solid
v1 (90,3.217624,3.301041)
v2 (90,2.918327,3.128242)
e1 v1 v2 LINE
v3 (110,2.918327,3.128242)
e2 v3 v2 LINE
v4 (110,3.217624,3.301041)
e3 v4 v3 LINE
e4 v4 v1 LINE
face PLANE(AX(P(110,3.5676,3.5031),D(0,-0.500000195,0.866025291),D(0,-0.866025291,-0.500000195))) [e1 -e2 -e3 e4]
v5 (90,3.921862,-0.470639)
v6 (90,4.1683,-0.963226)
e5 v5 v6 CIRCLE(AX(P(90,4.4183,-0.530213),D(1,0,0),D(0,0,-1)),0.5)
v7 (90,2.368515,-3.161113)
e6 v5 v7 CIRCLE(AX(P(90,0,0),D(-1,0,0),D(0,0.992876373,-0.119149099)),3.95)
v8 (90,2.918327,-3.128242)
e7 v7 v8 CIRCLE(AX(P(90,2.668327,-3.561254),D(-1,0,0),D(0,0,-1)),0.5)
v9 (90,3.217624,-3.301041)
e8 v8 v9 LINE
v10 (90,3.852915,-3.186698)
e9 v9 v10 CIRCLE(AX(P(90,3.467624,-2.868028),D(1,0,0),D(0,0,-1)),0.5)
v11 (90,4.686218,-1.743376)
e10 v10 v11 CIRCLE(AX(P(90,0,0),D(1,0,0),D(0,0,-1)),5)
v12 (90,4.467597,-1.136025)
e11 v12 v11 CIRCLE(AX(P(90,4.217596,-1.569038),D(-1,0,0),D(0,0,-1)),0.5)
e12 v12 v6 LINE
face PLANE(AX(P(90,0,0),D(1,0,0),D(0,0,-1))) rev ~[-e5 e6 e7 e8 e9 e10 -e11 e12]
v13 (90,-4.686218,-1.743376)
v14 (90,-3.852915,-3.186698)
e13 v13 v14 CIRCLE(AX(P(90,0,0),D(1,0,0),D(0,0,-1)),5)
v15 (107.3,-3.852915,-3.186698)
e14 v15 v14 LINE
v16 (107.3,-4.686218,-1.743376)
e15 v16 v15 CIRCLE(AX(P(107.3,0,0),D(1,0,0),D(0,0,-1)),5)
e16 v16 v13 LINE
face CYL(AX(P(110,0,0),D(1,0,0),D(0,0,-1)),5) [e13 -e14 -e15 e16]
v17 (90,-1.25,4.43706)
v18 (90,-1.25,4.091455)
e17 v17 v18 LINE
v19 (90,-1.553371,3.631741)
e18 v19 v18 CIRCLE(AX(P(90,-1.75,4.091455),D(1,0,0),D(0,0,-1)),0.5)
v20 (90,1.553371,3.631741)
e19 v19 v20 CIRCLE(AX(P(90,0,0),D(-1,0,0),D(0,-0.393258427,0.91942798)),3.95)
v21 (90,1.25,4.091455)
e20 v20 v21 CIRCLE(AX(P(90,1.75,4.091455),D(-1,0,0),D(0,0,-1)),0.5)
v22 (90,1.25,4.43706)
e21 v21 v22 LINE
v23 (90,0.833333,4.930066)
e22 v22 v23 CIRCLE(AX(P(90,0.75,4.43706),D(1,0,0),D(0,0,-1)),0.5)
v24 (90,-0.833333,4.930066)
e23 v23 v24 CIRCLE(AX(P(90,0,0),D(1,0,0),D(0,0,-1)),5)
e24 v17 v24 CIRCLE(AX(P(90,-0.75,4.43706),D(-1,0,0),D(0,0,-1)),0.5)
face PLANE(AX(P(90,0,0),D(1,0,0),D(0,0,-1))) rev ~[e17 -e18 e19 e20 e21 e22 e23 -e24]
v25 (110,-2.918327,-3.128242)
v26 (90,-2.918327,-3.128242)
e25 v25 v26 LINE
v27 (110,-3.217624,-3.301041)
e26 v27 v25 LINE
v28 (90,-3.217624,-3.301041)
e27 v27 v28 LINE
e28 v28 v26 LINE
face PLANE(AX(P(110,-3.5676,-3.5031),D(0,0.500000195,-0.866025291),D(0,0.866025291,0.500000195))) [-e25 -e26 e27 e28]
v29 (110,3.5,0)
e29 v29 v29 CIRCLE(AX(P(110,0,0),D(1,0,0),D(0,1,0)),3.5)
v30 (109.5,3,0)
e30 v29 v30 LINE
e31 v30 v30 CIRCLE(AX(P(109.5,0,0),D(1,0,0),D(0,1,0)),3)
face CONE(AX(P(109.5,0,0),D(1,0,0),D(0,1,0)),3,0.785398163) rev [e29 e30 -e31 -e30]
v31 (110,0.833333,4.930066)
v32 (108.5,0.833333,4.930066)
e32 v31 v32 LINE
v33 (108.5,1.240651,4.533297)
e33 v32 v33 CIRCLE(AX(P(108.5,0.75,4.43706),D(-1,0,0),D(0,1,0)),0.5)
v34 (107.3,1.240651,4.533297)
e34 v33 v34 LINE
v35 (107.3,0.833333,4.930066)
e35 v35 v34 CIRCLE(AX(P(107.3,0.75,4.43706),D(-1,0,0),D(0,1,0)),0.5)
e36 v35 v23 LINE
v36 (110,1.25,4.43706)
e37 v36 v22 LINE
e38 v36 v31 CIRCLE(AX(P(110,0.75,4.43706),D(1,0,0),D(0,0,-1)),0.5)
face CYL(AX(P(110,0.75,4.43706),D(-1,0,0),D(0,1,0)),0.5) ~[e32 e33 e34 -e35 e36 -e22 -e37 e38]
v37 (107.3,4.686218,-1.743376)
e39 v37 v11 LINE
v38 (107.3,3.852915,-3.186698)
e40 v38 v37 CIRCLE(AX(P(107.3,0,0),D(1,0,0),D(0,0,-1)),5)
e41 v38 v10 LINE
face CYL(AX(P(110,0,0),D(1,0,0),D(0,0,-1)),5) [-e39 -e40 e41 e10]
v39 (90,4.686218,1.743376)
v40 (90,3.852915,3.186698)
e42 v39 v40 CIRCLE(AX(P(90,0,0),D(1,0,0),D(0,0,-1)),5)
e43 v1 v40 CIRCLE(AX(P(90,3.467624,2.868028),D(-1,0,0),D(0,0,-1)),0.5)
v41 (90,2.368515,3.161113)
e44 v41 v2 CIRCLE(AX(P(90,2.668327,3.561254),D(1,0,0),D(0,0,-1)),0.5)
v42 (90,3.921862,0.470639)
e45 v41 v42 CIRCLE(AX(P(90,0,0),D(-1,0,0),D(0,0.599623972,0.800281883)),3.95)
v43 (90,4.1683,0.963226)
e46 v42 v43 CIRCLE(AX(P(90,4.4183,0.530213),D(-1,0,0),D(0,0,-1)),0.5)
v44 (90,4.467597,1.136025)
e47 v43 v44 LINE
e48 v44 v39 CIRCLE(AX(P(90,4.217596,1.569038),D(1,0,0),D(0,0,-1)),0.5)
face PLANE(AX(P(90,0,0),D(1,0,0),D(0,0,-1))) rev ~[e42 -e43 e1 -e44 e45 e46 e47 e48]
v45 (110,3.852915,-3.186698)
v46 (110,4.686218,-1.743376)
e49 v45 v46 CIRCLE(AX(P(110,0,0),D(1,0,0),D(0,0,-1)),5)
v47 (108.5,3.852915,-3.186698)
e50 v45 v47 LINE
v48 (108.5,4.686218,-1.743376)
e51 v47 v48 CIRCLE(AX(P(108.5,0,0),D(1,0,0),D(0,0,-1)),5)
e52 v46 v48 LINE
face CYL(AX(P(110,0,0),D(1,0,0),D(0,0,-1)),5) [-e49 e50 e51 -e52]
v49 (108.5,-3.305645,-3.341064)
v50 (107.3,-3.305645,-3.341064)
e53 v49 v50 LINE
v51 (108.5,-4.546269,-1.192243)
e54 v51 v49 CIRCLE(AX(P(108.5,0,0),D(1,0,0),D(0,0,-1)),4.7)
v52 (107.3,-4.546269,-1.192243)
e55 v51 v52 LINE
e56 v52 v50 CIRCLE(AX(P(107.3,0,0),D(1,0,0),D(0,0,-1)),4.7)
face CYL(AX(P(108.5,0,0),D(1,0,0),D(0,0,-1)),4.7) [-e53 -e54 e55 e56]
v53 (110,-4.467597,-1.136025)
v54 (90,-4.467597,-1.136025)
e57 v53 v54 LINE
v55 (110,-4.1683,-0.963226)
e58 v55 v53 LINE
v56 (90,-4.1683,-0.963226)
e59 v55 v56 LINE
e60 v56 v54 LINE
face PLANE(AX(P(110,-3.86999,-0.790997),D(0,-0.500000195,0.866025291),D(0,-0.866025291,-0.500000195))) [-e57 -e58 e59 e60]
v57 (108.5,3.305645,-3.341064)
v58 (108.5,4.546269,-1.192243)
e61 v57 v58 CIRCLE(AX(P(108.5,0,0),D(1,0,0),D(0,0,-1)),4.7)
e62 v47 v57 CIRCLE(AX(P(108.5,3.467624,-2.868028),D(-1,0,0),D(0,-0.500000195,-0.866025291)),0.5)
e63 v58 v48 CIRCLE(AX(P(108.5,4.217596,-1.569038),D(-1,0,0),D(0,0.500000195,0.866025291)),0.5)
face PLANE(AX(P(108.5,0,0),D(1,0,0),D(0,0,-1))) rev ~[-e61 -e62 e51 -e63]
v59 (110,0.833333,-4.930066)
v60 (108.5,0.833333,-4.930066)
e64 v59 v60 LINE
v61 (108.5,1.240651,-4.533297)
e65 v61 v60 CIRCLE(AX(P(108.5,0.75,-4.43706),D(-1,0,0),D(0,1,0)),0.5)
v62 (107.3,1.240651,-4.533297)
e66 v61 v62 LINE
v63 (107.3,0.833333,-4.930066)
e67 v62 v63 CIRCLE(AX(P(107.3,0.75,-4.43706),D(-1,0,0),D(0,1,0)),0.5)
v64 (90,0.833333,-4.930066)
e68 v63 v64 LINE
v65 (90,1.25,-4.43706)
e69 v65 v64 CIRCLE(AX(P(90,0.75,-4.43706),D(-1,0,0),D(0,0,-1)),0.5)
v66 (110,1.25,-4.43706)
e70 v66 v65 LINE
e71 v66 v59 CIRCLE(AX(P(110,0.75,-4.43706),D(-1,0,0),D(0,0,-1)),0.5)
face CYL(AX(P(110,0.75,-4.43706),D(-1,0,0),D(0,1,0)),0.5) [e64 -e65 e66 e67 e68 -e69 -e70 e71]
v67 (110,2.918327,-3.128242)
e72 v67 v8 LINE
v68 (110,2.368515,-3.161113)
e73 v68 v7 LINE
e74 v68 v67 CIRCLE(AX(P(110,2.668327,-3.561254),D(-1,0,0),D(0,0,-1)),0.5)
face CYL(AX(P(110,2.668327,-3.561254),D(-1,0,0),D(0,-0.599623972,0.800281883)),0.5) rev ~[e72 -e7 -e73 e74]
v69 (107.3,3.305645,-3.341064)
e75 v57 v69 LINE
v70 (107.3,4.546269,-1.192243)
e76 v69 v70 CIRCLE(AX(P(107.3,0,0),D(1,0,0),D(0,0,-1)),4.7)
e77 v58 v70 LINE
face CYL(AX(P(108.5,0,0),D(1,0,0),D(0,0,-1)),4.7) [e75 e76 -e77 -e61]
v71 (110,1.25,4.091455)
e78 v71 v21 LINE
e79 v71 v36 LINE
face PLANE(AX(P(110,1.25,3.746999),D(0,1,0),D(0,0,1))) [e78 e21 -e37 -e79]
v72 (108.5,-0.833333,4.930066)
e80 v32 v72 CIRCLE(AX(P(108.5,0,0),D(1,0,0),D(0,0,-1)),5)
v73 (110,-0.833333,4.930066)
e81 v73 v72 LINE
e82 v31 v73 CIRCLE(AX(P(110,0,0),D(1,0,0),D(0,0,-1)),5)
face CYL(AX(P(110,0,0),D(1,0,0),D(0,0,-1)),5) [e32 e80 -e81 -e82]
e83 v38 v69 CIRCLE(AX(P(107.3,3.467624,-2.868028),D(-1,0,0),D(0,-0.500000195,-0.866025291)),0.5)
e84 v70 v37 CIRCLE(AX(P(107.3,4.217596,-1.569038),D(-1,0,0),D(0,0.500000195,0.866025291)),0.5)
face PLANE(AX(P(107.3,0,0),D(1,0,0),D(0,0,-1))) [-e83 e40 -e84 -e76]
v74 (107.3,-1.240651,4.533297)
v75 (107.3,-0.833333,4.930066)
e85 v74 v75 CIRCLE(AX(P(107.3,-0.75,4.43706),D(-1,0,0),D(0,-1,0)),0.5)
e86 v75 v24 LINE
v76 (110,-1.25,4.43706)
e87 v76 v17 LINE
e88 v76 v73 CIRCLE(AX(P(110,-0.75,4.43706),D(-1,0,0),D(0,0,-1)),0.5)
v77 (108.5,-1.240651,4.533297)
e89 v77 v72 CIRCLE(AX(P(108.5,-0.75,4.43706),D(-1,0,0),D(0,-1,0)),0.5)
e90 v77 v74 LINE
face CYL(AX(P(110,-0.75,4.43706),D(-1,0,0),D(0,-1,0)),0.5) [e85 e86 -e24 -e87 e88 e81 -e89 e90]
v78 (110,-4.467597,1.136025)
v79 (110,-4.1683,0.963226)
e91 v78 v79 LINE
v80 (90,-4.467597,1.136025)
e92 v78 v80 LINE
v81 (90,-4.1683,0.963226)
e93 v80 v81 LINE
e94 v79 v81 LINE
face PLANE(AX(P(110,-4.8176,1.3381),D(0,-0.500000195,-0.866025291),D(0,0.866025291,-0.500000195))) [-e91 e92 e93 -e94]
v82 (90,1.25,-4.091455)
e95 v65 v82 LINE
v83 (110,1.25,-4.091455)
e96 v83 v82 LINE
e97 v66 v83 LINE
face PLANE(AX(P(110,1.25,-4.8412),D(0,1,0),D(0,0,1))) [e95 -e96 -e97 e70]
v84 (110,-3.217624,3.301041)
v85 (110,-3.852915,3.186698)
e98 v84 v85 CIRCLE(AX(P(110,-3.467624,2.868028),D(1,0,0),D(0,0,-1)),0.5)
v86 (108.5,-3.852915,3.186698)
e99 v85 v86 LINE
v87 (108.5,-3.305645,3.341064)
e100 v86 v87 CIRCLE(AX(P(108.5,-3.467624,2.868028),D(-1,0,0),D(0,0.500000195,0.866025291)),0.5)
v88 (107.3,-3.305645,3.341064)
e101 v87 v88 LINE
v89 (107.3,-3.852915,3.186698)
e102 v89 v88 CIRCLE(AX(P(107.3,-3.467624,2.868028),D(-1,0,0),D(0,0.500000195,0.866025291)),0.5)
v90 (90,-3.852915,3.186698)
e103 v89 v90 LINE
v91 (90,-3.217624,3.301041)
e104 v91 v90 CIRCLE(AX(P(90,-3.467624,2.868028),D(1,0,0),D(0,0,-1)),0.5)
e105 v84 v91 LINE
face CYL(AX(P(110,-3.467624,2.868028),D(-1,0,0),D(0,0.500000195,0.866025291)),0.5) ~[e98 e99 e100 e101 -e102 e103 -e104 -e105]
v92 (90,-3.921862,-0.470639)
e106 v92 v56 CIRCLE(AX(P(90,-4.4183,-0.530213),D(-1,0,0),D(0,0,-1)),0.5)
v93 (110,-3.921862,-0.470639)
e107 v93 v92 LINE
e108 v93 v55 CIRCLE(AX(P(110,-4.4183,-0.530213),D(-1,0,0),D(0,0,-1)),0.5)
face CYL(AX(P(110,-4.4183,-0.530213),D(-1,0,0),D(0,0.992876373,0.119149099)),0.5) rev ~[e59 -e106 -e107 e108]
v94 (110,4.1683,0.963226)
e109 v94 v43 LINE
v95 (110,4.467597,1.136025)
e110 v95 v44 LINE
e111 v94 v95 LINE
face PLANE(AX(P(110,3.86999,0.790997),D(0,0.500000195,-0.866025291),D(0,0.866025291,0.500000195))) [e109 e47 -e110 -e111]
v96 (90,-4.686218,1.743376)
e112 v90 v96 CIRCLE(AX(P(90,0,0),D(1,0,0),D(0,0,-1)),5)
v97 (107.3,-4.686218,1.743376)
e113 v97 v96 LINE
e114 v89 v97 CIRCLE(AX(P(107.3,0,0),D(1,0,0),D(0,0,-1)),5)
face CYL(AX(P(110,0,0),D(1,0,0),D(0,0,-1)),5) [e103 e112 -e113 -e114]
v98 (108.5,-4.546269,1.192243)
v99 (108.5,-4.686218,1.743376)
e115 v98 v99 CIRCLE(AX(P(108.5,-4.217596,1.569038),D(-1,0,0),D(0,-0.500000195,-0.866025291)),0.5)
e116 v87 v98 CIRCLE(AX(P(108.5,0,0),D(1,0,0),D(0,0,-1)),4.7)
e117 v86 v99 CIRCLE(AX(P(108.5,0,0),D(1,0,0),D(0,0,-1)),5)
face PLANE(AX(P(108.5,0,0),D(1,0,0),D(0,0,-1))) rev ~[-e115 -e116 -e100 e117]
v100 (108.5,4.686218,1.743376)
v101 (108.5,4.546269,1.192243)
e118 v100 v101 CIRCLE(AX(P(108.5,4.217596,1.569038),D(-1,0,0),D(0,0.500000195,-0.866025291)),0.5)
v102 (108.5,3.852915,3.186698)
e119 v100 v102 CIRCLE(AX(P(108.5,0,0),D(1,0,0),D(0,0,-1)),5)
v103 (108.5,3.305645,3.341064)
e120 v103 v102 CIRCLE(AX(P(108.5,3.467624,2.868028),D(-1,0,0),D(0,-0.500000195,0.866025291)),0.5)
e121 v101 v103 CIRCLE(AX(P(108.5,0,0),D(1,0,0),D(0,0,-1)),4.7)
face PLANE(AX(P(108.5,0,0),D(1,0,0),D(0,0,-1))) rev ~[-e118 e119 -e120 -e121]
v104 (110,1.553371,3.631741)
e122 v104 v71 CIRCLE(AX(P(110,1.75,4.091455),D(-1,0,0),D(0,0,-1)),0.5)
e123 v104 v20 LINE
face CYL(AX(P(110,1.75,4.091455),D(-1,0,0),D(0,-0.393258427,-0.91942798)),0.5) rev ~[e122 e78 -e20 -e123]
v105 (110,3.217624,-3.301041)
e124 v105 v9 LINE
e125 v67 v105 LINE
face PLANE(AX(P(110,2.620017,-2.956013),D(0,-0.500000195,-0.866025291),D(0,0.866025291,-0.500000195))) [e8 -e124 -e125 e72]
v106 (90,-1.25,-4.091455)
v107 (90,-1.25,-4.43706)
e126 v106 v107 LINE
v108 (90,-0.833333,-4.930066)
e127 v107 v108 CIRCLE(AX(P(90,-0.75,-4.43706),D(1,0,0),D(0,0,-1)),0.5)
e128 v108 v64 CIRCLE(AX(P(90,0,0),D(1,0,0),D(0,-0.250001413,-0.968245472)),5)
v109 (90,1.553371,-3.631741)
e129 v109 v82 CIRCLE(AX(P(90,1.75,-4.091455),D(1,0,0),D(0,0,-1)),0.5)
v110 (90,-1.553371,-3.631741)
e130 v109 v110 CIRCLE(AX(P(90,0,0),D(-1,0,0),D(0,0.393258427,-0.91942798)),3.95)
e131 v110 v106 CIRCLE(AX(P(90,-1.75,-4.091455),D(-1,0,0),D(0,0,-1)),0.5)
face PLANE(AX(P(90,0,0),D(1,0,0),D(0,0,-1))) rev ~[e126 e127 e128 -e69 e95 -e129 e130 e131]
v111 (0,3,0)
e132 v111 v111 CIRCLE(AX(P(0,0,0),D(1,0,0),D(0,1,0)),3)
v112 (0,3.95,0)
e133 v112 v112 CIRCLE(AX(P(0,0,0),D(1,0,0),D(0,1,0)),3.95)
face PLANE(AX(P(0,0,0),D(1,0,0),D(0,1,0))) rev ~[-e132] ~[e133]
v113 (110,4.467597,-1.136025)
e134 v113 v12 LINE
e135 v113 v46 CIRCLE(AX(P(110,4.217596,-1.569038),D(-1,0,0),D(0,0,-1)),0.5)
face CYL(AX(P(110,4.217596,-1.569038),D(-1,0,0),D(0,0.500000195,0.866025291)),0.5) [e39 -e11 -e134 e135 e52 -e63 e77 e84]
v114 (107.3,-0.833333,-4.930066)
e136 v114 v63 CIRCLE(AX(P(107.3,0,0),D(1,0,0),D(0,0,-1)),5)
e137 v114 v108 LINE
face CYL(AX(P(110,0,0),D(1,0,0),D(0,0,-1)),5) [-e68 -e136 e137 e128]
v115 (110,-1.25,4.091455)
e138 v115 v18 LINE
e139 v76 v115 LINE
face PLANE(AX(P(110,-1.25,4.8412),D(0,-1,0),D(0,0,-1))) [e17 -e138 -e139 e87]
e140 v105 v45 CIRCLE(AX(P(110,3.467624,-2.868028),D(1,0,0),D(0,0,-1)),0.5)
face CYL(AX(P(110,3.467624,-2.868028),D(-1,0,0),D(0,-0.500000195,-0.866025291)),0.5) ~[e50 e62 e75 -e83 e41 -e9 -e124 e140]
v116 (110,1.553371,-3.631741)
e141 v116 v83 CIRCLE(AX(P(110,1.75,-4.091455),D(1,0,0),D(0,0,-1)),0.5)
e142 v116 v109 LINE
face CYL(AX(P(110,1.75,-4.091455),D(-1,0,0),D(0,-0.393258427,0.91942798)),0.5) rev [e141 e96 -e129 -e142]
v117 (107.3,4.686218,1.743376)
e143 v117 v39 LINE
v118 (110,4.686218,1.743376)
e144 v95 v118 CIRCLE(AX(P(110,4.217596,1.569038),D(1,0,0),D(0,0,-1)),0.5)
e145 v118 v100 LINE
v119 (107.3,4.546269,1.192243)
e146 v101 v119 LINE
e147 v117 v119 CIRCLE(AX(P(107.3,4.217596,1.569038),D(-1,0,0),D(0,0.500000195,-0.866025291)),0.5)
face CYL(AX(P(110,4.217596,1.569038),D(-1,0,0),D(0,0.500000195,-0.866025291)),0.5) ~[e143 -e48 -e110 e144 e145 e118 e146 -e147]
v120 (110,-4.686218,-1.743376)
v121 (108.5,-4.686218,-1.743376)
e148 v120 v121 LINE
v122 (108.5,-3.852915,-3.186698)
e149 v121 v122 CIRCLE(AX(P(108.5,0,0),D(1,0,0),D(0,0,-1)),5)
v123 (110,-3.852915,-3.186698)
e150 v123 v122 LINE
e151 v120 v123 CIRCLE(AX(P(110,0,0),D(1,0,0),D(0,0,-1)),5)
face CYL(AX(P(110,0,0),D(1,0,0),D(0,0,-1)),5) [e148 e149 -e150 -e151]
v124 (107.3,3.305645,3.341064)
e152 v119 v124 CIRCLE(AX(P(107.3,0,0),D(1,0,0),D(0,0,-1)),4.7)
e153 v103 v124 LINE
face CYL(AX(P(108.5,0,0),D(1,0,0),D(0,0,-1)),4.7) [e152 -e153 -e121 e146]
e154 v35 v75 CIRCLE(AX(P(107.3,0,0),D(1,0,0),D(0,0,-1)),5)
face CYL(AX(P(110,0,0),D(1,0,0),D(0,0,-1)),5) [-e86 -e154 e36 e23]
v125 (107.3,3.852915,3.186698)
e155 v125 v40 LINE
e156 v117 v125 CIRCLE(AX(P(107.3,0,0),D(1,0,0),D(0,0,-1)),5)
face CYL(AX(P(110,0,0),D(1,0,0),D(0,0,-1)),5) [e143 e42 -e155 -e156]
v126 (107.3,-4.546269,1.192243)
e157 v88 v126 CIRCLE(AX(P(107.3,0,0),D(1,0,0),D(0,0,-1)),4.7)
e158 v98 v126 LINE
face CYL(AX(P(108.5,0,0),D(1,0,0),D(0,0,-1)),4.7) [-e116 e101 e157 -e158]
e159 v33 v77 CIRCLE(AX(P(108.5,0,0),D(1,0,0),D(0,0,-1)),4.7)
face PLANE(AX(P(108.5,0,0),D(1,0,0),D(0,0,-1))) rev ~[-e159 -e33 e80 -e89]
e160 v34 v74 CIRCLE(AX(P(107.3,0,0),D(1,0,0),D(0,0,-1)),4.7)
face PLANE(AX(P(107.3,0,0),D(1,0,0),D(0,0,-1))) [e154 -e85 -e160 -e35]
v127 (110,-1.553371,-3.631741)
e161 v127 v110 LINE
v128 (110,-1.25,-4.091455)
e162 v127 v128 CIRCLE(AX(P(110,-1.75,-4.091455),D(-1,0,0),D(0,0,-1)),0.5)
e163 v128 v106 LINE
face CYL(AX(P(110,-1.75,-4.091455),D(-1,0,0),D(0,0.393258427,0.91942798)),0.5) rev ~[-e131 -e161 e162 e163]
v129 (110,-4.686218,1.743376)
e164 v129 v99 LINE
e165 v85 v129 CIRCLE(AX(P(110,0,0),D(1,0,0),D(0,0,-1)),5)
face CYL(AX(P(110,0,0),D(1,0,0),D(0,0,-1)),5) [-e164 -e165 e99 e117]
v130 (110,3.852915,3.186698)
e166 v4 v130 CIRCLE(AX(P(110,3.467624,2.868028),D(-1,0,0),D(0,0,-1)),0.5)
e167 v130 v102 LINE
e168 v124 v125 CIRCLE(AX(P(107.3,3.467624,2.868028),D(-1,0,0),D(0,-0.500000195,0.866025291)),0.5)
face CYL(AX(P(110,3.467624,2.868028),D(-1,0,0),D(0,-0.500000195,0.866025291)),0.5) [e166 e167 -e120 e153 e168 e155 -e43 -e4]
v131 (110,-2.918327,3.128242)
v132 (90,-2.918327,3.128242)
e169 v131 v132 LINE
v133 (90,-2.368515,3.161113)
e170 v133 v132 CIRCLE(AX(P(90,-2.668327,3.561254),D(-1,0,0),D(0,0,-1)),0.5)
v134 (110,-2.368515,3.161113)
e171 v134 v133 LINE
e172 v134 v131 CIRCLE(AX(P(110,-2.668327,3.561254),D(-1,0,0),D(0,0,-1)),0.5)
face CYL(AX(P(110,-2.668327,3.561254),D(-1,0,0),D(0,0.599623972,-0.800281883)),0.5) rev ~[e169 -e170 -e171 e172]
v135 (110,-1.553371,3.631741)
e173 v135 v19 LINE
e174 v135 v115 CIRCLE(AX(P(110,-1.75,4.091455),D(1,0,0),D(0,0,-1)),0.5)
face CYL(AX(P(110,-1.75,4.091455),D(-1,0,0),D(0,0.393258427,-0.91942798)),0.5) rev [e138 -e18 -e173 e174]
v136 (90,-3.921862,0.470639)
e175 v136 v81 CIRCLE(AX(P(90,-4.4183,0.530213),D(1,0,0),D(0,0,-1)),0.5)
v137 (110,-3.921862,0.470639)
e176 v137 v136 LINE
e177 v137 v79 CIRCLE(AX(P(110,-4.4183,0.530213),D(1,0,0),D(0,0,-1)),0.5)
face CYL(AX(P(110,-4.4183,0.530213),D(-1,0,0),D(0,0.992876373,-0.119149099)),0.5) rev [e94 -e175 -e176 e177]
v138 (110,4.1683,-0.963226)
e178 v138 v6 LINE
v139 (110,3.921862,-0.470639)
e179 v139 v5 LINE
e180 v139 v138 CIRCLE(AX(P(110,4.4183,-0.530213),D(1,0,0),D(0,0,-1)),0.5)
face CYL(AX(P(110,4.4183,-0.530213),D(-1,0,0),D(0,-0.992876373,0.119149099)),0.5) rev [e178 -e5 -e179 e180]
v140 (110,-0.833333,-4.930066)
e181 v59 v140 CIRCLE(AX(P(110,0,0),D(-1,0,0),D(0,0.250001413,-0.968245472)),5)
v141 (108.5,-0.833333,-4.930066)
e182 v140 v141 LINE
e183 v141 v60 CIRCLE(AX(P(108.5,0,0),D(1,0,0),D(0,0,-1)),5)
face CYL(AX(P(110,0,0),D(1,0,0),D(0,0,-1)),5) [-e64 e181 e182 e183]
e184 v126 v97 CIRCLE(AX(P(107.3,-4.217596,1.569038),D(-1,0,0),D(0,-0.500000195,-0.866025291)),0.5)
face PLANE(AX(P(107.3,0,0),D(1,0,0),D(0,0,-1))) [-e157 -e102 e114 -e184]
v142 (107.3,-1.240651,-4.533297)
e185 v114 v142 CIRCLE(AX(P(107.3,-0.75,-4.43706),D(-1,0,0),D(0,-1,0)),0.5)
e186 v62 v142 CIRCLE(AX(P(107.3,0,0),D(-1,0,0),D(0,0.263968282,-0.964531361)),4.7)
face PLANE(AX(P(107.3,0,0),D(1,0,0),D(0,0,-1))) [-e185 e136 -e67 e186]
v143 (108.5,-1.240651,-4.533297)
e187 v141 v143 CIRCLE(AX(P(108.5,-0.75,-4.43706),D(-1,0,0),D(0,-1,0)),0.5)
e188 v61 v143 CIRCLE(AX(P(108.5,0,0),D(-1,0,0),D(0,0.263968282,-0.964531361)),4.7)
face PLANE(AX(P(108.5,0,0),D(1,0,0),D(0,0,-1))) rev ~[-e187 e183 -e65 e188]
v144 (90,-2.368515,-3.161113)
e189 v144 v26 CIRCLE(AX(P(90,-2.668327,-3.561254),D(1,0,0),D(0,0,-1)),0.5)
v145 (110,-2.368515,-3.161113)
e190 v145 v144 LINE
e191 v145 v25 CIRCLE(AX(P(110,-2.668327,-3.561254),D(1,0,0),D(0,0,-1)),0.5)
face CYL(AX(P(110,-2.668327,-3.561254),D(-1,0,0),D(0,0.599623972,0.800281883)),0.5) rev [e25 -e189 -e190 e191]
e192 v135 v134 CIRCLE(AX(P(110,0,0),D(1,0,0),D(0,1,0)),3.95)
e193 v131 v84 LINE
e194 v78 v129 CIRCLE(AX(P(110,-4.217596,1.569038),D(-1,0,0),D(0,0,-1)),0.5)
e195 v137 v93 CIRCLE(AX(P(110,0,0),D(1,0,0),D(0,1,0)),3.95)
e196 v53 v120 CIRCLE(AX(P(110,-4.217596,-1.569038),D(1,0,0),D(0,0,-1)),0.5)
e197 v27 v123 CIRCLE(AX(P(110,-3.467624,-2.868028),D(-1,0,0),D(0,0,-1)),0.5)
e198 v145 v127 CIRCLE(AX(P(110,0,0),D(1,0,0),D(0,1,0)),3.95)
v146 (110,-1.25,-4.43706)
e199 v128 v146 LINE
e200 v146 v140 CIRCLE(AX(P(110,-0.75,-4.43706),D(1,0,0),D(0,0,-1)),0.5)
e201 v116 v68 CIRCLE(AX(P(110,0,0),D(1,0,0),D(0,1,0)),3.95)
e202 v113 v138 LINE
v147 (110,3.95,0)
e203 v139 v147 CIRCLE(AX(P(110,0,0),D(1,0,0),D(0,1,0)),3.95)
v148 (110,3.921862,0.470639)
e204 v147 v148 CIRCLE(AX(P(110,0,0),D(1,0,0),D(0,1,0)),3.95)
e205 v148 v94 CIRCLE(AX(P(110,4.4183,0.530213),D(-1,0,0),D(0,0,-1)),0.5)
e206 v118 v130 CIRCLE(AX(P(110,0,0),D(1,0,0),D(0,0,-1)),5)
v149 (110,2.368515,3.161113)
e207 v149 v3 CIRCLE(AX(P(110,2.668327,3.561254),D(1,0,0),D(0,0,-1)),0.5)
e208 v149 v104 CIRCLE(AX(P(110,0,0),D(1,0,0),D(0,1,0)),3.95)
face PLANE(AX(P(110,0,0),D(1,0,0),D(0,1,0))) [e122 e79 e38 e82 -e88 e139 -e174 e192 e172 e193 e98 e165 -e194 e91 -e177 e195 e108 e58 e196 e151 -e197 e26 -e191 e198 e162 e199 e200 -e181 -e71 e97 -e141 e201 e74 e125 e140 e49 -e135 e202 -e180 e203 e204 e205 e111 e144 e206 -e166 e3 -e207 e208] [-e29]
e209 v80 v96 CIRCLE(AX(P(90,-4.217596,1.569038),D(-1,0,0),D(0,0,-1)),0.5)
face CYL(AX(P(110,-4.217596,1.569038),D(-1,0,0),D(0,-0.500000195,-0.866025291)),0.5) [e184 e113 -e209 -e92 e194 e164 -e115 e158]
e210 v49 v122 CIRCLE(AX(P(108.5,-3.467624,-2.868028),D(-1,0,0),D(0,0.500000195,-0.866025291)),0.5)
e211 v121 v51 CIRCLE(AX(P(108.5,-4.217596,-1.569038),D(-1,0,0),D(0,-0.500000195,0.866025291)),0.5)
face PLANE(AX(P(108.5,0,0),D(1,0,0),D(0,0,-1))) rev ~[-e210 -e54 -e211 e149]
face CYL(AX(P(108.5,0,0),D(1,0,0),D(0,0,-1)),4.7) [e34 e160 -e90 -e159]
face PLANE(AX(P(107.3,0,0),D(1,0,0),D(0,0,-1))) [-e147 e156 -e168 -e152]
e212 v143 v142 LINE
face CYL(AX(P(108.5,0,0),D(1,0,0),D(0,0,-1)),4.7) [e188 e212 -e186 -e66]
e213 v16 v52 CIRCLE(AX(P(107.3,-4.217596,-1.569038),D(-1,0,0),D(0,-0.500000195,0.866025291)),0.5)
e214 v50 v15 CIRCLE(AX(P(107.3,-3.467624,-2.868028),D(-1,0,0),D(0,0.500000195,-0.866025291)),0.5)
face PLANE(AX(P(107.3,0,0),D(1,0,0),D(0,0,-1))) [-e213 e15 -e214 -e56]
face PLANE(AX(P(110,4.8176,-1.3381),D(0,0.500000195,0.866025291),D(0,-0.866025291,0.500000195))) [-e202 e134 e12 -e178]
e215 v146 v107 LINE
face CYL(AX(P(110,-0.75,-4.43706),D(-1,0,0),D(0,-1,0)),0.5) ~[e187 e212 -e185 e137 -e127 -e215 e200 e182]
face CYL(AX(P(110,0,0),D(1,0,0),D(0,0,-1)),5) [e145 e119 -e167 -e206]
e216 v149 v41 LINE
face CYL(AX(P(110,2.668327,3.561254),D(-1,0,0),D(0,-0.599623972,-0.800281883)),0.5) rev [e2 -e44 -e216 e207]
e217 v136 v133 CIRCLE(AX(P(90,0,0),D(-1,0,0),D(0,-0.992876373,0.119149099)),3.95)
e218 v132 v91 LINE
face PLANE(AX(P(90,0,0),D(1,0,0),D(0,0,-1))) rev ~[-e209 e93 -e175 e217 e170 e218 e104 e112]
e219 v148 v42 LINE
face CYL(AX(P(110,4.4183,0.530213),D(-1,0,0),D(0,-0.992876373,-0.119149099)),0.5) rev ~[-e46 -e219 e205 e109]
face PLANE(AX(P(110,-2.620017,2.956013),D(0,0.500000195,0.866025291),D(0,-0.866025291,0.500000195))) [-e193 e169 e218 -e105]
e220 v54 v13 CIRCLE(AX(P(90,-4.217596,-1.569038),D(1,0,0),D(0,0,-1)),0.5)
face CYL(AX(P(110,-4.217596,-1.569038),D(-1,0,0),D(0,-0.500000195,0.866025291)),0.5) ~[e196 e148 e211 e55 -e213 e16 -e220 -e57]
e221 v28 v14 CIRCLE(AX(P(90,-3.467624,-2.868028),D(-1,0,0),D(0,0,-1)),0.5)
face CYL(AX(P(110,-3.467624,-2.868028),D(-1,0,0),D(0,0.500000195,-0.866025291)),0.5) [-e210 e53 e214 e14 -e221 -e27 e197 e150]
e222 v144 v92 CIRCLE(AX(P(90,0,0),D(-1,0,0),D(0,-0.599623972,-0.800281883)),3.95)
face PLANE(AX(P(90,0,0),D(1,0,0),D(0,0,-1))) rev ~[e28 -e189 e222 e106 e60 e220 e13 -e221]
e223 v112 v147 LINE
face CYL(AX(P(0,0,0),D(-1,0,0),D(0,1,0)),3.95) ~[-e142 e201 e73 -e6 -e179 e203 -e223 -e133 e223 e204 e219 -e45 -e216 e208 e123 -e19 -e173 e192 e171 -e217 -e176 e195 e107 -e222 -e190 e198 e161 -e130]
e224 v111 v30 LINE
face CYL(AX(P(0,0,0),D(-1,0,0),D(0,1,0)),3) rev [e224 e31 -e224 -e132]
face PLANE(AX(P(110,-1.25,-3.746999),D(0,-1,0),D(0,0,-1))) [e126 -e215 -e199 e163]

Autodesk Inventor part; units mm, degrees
ref_plane "YZ Plane" through (0, 0, 0) normal (1, 0, 0) x (0, 1, 0)
ref_plane "XZ Plane" through (0, 0, 0) normal (0, 1, 0) x (-1, 0, 0)
sketch "Sketch1" plane through (0, 0, 0) normal (1, 0, 0) x (0, 1, 0)
  circle A0 centre (0, 0) radius 3.95
  circle A1 centre (0, 0) radius 3
  dimension "d0" = 7.9
  dimension "d1" = 6
extrude "Extrusion1" add sketch "Sketch1" along normal blind 110
sketch "Sketch2" plane through (110, 0, 0) normal (1, 0, 0) x (0, 0, -1)
  line L0 (-0.0955, 0) -> (3.95, 0) construction
  circle A0 centre (0, 0) radius 3.95 projected
  line L1 (4.8412, 1.25) -> (0, 1.25)
  line L2 (0, 1.25) -> (0, -1.25) construction
  line L3 (0, -1.25) -> (4.8412, -1.25)
  line L4 (4.8412, -1.25) -> (4.8412, 1.25) construction
  line L5 (4.8412, 1.25) -> (0, -1.25) construction
  line L6 (0, 1.25) -> (4.8412, -1.25) construction
  circle A1 centre (0, 0) radius 5
  line L7 (-0.0477, -0.0827) -> (1.975, 3.4208) construction
  line L8 (1.3381, 4.8176) -> (-1.0825, 0.625)
  line L9 (-1.0825, 0.625) -> (1.0825, -0.625) construction
  line L10 (1.0825, -0.625) -> (3.5031, 3.5676)
  line L11 (3.5031, 3.5676) -> (1.3381, 4.8176) construction
  line L12 (1.3381, 4.8176) -> (1.0825, -0.625) construction
  line L13 (-1.0825, 0.625) -> (3.5031, 3.5676) construction
  line L14 (0.0477, -0.0827) -> (-1.975, 3.4208) construction
  line L15 (-3.5031, 3.5676) -> (-1.0825, -0.625)
  line L16 (-1.0825, -0.625) -> (1.0825, 0.625) construction
  line L17 (1.0825, 0.625) -> (-1.3381, 4.8176)
  line L18 (-1.3381, 4.8176) -> (-3.5031, 3.5676) construction
  line L19 (-3.5031, 3.5676) -> (1.0825, 0.625) construction
  line L20 (-1.0825, -0.625) -> (-1.3381, 4.8176) construction
  line L21 (0.0955, 0) -> (-3.95, 0) construction
  line L22 (-4.8412, -1.25) -> (0, -1.25)
  line L23 (0, -1.25) -> (0, 1.25) construction
  line L24 (0, 1.25) -> (-4.8412, 1.25)
  line L25 (-4.8412, 1.25) -> (-4.8412, -1.25) construction
  line L26 (-4.8412, -1.25) -> (0, 1.25) construction
  line L27 (0, -1.25) -> (-4.8412, 1.25) construction
  line L28 (0.0477, 0.0827) -> (-1.975, -3.4208) construction
  line L29 (-1.3381, -4.8176) -> (1.0825, -0.625)
  line L30 (1.0825, -0.625) -> (-1.0825, 0.625) construction
  line L31 (-1.0825, 0.625) -> (-3.5031, -3.5676)
  line L32 (-3.5031, -3.5676) -> (-1.3381, -4.8176) construction
  line L33 (-1.3381, -4.8176) -> (-1.0825, 0.625) construction
  line L34 (1.0825, -0.625) -> (-3.5031, -3.5676) construction
  line L35 (-0.0477, 0.0827) -> (1.975, -3.4208) construction
  line L36 (3.5031, -3.5676) -> (1.0825, 0.625)
  line L37 (1.0825, 0.625) -> (-1.0825, -0.625) construction
  line L38 (-1.0825, -0.625) -> (1.3381, -4.8176)
  line L39 (1.3381, -4.8176) -> (3.5031, -3.5676) construction
  line L40 (3.5031, -3.5676) -> (-1.0825, -0.625) construction
  line L41 (1.0825, 0.625) -> (1.3381, -4.8176) construction
  point P0 (2.4206, 0)
  point P1 (1.2103, 2.0963)
  point P2 (-1.2103, 2.0963)
  point P3 (-2.4206, 0)
  point P4 (-1.2103, -2.0963)
  point P5 (1.2103, -2.0963)
  point P6 (-2.956, -2.62)
  point P7 (-3.5031, -3.5676)
  point P8 (-1.3381, -4.8176)
  point P9 (-0.791, -3.87)
  point P10 (0.791, -3.87)
  point P11 (1.3381, -4.8176)
  point P12 (3.5031, -3.5676)
  point P13 (2.956, -2.62)
  point P14 (4.8412, 1.25)
  point P15 (3.747, 1.25)
  point P16 (3.747, -1.25)
  point P17 (2.956, 2.62)
  point P18 (3.5031, 3.5676)
  point P19 (1.3381, 4.8176)
  point P20 (0.791, 3.87)
  point P21 (-3.747, 1.25)
  point P22 (-4.8412, -1.25)
  point P23 (-3.747, -1.25)
  point P24 (-0.791, 3.87)
  point P25 (-1.3381, 4.8176)
  point P26 (-3.5031, 3.5676)
  point P27 (-2.956, 2.62)
  dimension "d23" = 10
  dimension "d21" = 2.5
  dimension "d26" = 360
extrude "Extrusion2" add sketch "Sketch2" against normal blind 20 contours A0 L1 A1 L3 | A0 L8 A1 L10 | L36 A1 L38 A0 | A0 L15 A1 L17 | L29 A1 L31 A0 | A0 L22 A1 L24
fillet "Fillet1" radius 0.5 24 edges at (100, 4.8176, 1.3381) (100, 3.5676, 3.5031) (100, 4.8176, -1.3381) (100, 3.5676, -3.5031) (100, 1.25, -4.8412) (100, -1.25, -4.8412) (100, -3.5676, -3.5031) (100, -4.8176, -1.3381) (100, -4.8176, 1.3381) (100, -3.5676, 3.5031) (100, -1.25, 4.8412) (100, 1.25, 4.8412) (100, 3.87, -0.791) (100, 3.87, 0.791) (100, 2.62, -2.956) (100, 1.25, -3.747) (100, -1.25, -3.747) (100, -2.62, -2.956) (100, -3.87, -0.791) (100, -3.87, 0.791) (100, -2.62, 2.956) (100, -1.25, 3.747) (100, 1.25, 3.747) (100, 2.62, 2.956)
ref_plane "Work Plane1" through (108.5, 0, 0) normal (1, 0, 0) x (0, 0, -1)
sketch "Sketch4" plane through (108.5, 0, 0) normal (1, 0, 0) x (0, 0, -1)
  arc A0 (3.6317, -1.5534) -> (3.6317, 1.5534) centre (0, 0) ccw projected
  circle A1 centre (0, 0) radius 10
  circle A2 centre (0, 0) radius 4.7
  arc A3 (0.4706, 3.9219) -> (-0.4706, 3.9219) centre (0, 0) ccw projected
  point P0 (5.7956, 1.5529)
  point P1 (5.7956, -1.5529)
  point P2 (6, 0)
  point P3 (3.747, -1.25)
  point P4 (3.747, 1.25)
  dimension "d14" = 20
  dimension "d29" = 9.4
extrude "Extrusion4" cut sketch "Sketch4" against normal blind 1.2
chamfer "Chamfer1" distance 0.5 angle 45 1 edges at (110, -3, 0)
sketch "Sketch3" plane through (0, 0, 0) normal (0, 1, 0) x (-1, 0, 0)
  line L0 (0, 0) -> (-110, 0) construction
  line L1 (-110, -3) -> (-110, 3) projected
  circle A0 centre (-3.95, 0) radius 1.5
  circle A1 centre (-3.95, 0) radius 3.95
  line L2 (0, 3.95) -> (-90, 3.95) projected
  line L3 (0, 3.95) -> (0, -3.95) projected
  line L4 (-7.9, -3.95) -> (0, -3.95)
  line L5 (0, -3.95) -> (0, 3.95)
  line L6 (0, 3.95) -> (-7.9, 3.95)
  line L7 (-7.9, 3.95) -> (-7.9, -3.95)
  line L8 (-7.9, -3.95) -> (0, 3.95) construction
  line L9 (0, -3.95) -> (-7.9, 3.95) construction
  point P0 (-3.95, 3.95)
  point P1 (-3.95, -3.95)
  point P2 (0, -3.95)
  dimension "d10" = 3
sketch "Sketch5" plane through (0, 0, 0) normal (0, 0, 1) x (1, 0, 0)
  line L0 (0, -3.95) -> (0, 3.95) projected
  line L1 (90, 2.3685) -> (110, 2.3685) projected
  line L2 (90, 2.3685) -> (90, 3.9219) projected
  line L3 (110, 3.9219) -> (90, 3.9219) projected
  line L4 (110, 3.9219) -> (110, 3.9219) projected
  line L5 (90, 3.9219) -> (110, 3.9219) projected
  line L6 (90, 3.9219) -> (90, 2.3685) projected
  line L7 (110, 2.3685) -> (90, 2.3685) projected
  line L8 (110, 1.5534) -> (110, 2.3685) projected
  line L9 (90, 1.5534) -> (110, 1.5534) projected
  line L10 (90, 1.5534) -> (90, -1.5534) projected
  line L11 (110, -1.5534) -> (90, -1.5534) projected
  line L12 (110, -2.3685) -> (110, -1.5534) projected
  line L13 (90, -2.3685) -> (110, -2.3685) projected
  line L14 (90, -2.3685) -> (90, -3.9219) projected
  line L15 (110, -3.9219) -> (90, -3.9219) projected
  line L16 (110, -3.9219) -> (110, -3.9219) projected
  line L17 (90, -3.9219) -> (110, -3.9219) projected
  line L18 (90, -3.9219) -> (90, -2.3685) projected
  line L19 (110, -2.3685) -> (90, -2.3685) projected
  line L20 (110, -1.5534) -> (110, -2.3685) projected
  line L21 (90, -1.5534) -> (110, -1.5534) projected
  line L22 (90, -1.5534) -> (90, 1.5534) projected
  line L23 (110, 1.5534) -> (90, 1.5534) projected
  line L24 (110, 2.3685) -> (110, 1.5534) projected
  line L25 (3.95, 3.6541) -> (3.95, -3.6541) construction
  line L26 (3.95, -3.6541) -> (3.95, 3.6541)
  line L27 (2.45, 0) -> (5.45, 0) construction
  line L28 (2.45, -2) -> (5.45, -2)
  line L29 (5.45, 2) -> (2.45, 2)
  arc A0 (2.45, 2) -> (2.45, -2) centre (2.45, 0) ccw
  arc A1 (5.45, -2) -> (5.45, 2) centre (5.45, 0) ccw
  line L30 (-2.45, 2) -> (2.45, 2)
  line L31 (2.45, 2) -> (2.45, -2)
  line L32 (2.45, -2) -> (-2.45, -2)
  line L33 (-2.45, -2) -> (-2.45, 2)
  line L34 (-2.45, 2) -> (2.45, -2) construction
  line L35 (2.45, 2) -> (-2.45, -2) construction
  point P0 (0, 0)
  point P1 (3.95, 0)
  dimension "d30" = 4
  dimension "d31" = 3
properties part number "Shaft" material "Stainless Steel"
